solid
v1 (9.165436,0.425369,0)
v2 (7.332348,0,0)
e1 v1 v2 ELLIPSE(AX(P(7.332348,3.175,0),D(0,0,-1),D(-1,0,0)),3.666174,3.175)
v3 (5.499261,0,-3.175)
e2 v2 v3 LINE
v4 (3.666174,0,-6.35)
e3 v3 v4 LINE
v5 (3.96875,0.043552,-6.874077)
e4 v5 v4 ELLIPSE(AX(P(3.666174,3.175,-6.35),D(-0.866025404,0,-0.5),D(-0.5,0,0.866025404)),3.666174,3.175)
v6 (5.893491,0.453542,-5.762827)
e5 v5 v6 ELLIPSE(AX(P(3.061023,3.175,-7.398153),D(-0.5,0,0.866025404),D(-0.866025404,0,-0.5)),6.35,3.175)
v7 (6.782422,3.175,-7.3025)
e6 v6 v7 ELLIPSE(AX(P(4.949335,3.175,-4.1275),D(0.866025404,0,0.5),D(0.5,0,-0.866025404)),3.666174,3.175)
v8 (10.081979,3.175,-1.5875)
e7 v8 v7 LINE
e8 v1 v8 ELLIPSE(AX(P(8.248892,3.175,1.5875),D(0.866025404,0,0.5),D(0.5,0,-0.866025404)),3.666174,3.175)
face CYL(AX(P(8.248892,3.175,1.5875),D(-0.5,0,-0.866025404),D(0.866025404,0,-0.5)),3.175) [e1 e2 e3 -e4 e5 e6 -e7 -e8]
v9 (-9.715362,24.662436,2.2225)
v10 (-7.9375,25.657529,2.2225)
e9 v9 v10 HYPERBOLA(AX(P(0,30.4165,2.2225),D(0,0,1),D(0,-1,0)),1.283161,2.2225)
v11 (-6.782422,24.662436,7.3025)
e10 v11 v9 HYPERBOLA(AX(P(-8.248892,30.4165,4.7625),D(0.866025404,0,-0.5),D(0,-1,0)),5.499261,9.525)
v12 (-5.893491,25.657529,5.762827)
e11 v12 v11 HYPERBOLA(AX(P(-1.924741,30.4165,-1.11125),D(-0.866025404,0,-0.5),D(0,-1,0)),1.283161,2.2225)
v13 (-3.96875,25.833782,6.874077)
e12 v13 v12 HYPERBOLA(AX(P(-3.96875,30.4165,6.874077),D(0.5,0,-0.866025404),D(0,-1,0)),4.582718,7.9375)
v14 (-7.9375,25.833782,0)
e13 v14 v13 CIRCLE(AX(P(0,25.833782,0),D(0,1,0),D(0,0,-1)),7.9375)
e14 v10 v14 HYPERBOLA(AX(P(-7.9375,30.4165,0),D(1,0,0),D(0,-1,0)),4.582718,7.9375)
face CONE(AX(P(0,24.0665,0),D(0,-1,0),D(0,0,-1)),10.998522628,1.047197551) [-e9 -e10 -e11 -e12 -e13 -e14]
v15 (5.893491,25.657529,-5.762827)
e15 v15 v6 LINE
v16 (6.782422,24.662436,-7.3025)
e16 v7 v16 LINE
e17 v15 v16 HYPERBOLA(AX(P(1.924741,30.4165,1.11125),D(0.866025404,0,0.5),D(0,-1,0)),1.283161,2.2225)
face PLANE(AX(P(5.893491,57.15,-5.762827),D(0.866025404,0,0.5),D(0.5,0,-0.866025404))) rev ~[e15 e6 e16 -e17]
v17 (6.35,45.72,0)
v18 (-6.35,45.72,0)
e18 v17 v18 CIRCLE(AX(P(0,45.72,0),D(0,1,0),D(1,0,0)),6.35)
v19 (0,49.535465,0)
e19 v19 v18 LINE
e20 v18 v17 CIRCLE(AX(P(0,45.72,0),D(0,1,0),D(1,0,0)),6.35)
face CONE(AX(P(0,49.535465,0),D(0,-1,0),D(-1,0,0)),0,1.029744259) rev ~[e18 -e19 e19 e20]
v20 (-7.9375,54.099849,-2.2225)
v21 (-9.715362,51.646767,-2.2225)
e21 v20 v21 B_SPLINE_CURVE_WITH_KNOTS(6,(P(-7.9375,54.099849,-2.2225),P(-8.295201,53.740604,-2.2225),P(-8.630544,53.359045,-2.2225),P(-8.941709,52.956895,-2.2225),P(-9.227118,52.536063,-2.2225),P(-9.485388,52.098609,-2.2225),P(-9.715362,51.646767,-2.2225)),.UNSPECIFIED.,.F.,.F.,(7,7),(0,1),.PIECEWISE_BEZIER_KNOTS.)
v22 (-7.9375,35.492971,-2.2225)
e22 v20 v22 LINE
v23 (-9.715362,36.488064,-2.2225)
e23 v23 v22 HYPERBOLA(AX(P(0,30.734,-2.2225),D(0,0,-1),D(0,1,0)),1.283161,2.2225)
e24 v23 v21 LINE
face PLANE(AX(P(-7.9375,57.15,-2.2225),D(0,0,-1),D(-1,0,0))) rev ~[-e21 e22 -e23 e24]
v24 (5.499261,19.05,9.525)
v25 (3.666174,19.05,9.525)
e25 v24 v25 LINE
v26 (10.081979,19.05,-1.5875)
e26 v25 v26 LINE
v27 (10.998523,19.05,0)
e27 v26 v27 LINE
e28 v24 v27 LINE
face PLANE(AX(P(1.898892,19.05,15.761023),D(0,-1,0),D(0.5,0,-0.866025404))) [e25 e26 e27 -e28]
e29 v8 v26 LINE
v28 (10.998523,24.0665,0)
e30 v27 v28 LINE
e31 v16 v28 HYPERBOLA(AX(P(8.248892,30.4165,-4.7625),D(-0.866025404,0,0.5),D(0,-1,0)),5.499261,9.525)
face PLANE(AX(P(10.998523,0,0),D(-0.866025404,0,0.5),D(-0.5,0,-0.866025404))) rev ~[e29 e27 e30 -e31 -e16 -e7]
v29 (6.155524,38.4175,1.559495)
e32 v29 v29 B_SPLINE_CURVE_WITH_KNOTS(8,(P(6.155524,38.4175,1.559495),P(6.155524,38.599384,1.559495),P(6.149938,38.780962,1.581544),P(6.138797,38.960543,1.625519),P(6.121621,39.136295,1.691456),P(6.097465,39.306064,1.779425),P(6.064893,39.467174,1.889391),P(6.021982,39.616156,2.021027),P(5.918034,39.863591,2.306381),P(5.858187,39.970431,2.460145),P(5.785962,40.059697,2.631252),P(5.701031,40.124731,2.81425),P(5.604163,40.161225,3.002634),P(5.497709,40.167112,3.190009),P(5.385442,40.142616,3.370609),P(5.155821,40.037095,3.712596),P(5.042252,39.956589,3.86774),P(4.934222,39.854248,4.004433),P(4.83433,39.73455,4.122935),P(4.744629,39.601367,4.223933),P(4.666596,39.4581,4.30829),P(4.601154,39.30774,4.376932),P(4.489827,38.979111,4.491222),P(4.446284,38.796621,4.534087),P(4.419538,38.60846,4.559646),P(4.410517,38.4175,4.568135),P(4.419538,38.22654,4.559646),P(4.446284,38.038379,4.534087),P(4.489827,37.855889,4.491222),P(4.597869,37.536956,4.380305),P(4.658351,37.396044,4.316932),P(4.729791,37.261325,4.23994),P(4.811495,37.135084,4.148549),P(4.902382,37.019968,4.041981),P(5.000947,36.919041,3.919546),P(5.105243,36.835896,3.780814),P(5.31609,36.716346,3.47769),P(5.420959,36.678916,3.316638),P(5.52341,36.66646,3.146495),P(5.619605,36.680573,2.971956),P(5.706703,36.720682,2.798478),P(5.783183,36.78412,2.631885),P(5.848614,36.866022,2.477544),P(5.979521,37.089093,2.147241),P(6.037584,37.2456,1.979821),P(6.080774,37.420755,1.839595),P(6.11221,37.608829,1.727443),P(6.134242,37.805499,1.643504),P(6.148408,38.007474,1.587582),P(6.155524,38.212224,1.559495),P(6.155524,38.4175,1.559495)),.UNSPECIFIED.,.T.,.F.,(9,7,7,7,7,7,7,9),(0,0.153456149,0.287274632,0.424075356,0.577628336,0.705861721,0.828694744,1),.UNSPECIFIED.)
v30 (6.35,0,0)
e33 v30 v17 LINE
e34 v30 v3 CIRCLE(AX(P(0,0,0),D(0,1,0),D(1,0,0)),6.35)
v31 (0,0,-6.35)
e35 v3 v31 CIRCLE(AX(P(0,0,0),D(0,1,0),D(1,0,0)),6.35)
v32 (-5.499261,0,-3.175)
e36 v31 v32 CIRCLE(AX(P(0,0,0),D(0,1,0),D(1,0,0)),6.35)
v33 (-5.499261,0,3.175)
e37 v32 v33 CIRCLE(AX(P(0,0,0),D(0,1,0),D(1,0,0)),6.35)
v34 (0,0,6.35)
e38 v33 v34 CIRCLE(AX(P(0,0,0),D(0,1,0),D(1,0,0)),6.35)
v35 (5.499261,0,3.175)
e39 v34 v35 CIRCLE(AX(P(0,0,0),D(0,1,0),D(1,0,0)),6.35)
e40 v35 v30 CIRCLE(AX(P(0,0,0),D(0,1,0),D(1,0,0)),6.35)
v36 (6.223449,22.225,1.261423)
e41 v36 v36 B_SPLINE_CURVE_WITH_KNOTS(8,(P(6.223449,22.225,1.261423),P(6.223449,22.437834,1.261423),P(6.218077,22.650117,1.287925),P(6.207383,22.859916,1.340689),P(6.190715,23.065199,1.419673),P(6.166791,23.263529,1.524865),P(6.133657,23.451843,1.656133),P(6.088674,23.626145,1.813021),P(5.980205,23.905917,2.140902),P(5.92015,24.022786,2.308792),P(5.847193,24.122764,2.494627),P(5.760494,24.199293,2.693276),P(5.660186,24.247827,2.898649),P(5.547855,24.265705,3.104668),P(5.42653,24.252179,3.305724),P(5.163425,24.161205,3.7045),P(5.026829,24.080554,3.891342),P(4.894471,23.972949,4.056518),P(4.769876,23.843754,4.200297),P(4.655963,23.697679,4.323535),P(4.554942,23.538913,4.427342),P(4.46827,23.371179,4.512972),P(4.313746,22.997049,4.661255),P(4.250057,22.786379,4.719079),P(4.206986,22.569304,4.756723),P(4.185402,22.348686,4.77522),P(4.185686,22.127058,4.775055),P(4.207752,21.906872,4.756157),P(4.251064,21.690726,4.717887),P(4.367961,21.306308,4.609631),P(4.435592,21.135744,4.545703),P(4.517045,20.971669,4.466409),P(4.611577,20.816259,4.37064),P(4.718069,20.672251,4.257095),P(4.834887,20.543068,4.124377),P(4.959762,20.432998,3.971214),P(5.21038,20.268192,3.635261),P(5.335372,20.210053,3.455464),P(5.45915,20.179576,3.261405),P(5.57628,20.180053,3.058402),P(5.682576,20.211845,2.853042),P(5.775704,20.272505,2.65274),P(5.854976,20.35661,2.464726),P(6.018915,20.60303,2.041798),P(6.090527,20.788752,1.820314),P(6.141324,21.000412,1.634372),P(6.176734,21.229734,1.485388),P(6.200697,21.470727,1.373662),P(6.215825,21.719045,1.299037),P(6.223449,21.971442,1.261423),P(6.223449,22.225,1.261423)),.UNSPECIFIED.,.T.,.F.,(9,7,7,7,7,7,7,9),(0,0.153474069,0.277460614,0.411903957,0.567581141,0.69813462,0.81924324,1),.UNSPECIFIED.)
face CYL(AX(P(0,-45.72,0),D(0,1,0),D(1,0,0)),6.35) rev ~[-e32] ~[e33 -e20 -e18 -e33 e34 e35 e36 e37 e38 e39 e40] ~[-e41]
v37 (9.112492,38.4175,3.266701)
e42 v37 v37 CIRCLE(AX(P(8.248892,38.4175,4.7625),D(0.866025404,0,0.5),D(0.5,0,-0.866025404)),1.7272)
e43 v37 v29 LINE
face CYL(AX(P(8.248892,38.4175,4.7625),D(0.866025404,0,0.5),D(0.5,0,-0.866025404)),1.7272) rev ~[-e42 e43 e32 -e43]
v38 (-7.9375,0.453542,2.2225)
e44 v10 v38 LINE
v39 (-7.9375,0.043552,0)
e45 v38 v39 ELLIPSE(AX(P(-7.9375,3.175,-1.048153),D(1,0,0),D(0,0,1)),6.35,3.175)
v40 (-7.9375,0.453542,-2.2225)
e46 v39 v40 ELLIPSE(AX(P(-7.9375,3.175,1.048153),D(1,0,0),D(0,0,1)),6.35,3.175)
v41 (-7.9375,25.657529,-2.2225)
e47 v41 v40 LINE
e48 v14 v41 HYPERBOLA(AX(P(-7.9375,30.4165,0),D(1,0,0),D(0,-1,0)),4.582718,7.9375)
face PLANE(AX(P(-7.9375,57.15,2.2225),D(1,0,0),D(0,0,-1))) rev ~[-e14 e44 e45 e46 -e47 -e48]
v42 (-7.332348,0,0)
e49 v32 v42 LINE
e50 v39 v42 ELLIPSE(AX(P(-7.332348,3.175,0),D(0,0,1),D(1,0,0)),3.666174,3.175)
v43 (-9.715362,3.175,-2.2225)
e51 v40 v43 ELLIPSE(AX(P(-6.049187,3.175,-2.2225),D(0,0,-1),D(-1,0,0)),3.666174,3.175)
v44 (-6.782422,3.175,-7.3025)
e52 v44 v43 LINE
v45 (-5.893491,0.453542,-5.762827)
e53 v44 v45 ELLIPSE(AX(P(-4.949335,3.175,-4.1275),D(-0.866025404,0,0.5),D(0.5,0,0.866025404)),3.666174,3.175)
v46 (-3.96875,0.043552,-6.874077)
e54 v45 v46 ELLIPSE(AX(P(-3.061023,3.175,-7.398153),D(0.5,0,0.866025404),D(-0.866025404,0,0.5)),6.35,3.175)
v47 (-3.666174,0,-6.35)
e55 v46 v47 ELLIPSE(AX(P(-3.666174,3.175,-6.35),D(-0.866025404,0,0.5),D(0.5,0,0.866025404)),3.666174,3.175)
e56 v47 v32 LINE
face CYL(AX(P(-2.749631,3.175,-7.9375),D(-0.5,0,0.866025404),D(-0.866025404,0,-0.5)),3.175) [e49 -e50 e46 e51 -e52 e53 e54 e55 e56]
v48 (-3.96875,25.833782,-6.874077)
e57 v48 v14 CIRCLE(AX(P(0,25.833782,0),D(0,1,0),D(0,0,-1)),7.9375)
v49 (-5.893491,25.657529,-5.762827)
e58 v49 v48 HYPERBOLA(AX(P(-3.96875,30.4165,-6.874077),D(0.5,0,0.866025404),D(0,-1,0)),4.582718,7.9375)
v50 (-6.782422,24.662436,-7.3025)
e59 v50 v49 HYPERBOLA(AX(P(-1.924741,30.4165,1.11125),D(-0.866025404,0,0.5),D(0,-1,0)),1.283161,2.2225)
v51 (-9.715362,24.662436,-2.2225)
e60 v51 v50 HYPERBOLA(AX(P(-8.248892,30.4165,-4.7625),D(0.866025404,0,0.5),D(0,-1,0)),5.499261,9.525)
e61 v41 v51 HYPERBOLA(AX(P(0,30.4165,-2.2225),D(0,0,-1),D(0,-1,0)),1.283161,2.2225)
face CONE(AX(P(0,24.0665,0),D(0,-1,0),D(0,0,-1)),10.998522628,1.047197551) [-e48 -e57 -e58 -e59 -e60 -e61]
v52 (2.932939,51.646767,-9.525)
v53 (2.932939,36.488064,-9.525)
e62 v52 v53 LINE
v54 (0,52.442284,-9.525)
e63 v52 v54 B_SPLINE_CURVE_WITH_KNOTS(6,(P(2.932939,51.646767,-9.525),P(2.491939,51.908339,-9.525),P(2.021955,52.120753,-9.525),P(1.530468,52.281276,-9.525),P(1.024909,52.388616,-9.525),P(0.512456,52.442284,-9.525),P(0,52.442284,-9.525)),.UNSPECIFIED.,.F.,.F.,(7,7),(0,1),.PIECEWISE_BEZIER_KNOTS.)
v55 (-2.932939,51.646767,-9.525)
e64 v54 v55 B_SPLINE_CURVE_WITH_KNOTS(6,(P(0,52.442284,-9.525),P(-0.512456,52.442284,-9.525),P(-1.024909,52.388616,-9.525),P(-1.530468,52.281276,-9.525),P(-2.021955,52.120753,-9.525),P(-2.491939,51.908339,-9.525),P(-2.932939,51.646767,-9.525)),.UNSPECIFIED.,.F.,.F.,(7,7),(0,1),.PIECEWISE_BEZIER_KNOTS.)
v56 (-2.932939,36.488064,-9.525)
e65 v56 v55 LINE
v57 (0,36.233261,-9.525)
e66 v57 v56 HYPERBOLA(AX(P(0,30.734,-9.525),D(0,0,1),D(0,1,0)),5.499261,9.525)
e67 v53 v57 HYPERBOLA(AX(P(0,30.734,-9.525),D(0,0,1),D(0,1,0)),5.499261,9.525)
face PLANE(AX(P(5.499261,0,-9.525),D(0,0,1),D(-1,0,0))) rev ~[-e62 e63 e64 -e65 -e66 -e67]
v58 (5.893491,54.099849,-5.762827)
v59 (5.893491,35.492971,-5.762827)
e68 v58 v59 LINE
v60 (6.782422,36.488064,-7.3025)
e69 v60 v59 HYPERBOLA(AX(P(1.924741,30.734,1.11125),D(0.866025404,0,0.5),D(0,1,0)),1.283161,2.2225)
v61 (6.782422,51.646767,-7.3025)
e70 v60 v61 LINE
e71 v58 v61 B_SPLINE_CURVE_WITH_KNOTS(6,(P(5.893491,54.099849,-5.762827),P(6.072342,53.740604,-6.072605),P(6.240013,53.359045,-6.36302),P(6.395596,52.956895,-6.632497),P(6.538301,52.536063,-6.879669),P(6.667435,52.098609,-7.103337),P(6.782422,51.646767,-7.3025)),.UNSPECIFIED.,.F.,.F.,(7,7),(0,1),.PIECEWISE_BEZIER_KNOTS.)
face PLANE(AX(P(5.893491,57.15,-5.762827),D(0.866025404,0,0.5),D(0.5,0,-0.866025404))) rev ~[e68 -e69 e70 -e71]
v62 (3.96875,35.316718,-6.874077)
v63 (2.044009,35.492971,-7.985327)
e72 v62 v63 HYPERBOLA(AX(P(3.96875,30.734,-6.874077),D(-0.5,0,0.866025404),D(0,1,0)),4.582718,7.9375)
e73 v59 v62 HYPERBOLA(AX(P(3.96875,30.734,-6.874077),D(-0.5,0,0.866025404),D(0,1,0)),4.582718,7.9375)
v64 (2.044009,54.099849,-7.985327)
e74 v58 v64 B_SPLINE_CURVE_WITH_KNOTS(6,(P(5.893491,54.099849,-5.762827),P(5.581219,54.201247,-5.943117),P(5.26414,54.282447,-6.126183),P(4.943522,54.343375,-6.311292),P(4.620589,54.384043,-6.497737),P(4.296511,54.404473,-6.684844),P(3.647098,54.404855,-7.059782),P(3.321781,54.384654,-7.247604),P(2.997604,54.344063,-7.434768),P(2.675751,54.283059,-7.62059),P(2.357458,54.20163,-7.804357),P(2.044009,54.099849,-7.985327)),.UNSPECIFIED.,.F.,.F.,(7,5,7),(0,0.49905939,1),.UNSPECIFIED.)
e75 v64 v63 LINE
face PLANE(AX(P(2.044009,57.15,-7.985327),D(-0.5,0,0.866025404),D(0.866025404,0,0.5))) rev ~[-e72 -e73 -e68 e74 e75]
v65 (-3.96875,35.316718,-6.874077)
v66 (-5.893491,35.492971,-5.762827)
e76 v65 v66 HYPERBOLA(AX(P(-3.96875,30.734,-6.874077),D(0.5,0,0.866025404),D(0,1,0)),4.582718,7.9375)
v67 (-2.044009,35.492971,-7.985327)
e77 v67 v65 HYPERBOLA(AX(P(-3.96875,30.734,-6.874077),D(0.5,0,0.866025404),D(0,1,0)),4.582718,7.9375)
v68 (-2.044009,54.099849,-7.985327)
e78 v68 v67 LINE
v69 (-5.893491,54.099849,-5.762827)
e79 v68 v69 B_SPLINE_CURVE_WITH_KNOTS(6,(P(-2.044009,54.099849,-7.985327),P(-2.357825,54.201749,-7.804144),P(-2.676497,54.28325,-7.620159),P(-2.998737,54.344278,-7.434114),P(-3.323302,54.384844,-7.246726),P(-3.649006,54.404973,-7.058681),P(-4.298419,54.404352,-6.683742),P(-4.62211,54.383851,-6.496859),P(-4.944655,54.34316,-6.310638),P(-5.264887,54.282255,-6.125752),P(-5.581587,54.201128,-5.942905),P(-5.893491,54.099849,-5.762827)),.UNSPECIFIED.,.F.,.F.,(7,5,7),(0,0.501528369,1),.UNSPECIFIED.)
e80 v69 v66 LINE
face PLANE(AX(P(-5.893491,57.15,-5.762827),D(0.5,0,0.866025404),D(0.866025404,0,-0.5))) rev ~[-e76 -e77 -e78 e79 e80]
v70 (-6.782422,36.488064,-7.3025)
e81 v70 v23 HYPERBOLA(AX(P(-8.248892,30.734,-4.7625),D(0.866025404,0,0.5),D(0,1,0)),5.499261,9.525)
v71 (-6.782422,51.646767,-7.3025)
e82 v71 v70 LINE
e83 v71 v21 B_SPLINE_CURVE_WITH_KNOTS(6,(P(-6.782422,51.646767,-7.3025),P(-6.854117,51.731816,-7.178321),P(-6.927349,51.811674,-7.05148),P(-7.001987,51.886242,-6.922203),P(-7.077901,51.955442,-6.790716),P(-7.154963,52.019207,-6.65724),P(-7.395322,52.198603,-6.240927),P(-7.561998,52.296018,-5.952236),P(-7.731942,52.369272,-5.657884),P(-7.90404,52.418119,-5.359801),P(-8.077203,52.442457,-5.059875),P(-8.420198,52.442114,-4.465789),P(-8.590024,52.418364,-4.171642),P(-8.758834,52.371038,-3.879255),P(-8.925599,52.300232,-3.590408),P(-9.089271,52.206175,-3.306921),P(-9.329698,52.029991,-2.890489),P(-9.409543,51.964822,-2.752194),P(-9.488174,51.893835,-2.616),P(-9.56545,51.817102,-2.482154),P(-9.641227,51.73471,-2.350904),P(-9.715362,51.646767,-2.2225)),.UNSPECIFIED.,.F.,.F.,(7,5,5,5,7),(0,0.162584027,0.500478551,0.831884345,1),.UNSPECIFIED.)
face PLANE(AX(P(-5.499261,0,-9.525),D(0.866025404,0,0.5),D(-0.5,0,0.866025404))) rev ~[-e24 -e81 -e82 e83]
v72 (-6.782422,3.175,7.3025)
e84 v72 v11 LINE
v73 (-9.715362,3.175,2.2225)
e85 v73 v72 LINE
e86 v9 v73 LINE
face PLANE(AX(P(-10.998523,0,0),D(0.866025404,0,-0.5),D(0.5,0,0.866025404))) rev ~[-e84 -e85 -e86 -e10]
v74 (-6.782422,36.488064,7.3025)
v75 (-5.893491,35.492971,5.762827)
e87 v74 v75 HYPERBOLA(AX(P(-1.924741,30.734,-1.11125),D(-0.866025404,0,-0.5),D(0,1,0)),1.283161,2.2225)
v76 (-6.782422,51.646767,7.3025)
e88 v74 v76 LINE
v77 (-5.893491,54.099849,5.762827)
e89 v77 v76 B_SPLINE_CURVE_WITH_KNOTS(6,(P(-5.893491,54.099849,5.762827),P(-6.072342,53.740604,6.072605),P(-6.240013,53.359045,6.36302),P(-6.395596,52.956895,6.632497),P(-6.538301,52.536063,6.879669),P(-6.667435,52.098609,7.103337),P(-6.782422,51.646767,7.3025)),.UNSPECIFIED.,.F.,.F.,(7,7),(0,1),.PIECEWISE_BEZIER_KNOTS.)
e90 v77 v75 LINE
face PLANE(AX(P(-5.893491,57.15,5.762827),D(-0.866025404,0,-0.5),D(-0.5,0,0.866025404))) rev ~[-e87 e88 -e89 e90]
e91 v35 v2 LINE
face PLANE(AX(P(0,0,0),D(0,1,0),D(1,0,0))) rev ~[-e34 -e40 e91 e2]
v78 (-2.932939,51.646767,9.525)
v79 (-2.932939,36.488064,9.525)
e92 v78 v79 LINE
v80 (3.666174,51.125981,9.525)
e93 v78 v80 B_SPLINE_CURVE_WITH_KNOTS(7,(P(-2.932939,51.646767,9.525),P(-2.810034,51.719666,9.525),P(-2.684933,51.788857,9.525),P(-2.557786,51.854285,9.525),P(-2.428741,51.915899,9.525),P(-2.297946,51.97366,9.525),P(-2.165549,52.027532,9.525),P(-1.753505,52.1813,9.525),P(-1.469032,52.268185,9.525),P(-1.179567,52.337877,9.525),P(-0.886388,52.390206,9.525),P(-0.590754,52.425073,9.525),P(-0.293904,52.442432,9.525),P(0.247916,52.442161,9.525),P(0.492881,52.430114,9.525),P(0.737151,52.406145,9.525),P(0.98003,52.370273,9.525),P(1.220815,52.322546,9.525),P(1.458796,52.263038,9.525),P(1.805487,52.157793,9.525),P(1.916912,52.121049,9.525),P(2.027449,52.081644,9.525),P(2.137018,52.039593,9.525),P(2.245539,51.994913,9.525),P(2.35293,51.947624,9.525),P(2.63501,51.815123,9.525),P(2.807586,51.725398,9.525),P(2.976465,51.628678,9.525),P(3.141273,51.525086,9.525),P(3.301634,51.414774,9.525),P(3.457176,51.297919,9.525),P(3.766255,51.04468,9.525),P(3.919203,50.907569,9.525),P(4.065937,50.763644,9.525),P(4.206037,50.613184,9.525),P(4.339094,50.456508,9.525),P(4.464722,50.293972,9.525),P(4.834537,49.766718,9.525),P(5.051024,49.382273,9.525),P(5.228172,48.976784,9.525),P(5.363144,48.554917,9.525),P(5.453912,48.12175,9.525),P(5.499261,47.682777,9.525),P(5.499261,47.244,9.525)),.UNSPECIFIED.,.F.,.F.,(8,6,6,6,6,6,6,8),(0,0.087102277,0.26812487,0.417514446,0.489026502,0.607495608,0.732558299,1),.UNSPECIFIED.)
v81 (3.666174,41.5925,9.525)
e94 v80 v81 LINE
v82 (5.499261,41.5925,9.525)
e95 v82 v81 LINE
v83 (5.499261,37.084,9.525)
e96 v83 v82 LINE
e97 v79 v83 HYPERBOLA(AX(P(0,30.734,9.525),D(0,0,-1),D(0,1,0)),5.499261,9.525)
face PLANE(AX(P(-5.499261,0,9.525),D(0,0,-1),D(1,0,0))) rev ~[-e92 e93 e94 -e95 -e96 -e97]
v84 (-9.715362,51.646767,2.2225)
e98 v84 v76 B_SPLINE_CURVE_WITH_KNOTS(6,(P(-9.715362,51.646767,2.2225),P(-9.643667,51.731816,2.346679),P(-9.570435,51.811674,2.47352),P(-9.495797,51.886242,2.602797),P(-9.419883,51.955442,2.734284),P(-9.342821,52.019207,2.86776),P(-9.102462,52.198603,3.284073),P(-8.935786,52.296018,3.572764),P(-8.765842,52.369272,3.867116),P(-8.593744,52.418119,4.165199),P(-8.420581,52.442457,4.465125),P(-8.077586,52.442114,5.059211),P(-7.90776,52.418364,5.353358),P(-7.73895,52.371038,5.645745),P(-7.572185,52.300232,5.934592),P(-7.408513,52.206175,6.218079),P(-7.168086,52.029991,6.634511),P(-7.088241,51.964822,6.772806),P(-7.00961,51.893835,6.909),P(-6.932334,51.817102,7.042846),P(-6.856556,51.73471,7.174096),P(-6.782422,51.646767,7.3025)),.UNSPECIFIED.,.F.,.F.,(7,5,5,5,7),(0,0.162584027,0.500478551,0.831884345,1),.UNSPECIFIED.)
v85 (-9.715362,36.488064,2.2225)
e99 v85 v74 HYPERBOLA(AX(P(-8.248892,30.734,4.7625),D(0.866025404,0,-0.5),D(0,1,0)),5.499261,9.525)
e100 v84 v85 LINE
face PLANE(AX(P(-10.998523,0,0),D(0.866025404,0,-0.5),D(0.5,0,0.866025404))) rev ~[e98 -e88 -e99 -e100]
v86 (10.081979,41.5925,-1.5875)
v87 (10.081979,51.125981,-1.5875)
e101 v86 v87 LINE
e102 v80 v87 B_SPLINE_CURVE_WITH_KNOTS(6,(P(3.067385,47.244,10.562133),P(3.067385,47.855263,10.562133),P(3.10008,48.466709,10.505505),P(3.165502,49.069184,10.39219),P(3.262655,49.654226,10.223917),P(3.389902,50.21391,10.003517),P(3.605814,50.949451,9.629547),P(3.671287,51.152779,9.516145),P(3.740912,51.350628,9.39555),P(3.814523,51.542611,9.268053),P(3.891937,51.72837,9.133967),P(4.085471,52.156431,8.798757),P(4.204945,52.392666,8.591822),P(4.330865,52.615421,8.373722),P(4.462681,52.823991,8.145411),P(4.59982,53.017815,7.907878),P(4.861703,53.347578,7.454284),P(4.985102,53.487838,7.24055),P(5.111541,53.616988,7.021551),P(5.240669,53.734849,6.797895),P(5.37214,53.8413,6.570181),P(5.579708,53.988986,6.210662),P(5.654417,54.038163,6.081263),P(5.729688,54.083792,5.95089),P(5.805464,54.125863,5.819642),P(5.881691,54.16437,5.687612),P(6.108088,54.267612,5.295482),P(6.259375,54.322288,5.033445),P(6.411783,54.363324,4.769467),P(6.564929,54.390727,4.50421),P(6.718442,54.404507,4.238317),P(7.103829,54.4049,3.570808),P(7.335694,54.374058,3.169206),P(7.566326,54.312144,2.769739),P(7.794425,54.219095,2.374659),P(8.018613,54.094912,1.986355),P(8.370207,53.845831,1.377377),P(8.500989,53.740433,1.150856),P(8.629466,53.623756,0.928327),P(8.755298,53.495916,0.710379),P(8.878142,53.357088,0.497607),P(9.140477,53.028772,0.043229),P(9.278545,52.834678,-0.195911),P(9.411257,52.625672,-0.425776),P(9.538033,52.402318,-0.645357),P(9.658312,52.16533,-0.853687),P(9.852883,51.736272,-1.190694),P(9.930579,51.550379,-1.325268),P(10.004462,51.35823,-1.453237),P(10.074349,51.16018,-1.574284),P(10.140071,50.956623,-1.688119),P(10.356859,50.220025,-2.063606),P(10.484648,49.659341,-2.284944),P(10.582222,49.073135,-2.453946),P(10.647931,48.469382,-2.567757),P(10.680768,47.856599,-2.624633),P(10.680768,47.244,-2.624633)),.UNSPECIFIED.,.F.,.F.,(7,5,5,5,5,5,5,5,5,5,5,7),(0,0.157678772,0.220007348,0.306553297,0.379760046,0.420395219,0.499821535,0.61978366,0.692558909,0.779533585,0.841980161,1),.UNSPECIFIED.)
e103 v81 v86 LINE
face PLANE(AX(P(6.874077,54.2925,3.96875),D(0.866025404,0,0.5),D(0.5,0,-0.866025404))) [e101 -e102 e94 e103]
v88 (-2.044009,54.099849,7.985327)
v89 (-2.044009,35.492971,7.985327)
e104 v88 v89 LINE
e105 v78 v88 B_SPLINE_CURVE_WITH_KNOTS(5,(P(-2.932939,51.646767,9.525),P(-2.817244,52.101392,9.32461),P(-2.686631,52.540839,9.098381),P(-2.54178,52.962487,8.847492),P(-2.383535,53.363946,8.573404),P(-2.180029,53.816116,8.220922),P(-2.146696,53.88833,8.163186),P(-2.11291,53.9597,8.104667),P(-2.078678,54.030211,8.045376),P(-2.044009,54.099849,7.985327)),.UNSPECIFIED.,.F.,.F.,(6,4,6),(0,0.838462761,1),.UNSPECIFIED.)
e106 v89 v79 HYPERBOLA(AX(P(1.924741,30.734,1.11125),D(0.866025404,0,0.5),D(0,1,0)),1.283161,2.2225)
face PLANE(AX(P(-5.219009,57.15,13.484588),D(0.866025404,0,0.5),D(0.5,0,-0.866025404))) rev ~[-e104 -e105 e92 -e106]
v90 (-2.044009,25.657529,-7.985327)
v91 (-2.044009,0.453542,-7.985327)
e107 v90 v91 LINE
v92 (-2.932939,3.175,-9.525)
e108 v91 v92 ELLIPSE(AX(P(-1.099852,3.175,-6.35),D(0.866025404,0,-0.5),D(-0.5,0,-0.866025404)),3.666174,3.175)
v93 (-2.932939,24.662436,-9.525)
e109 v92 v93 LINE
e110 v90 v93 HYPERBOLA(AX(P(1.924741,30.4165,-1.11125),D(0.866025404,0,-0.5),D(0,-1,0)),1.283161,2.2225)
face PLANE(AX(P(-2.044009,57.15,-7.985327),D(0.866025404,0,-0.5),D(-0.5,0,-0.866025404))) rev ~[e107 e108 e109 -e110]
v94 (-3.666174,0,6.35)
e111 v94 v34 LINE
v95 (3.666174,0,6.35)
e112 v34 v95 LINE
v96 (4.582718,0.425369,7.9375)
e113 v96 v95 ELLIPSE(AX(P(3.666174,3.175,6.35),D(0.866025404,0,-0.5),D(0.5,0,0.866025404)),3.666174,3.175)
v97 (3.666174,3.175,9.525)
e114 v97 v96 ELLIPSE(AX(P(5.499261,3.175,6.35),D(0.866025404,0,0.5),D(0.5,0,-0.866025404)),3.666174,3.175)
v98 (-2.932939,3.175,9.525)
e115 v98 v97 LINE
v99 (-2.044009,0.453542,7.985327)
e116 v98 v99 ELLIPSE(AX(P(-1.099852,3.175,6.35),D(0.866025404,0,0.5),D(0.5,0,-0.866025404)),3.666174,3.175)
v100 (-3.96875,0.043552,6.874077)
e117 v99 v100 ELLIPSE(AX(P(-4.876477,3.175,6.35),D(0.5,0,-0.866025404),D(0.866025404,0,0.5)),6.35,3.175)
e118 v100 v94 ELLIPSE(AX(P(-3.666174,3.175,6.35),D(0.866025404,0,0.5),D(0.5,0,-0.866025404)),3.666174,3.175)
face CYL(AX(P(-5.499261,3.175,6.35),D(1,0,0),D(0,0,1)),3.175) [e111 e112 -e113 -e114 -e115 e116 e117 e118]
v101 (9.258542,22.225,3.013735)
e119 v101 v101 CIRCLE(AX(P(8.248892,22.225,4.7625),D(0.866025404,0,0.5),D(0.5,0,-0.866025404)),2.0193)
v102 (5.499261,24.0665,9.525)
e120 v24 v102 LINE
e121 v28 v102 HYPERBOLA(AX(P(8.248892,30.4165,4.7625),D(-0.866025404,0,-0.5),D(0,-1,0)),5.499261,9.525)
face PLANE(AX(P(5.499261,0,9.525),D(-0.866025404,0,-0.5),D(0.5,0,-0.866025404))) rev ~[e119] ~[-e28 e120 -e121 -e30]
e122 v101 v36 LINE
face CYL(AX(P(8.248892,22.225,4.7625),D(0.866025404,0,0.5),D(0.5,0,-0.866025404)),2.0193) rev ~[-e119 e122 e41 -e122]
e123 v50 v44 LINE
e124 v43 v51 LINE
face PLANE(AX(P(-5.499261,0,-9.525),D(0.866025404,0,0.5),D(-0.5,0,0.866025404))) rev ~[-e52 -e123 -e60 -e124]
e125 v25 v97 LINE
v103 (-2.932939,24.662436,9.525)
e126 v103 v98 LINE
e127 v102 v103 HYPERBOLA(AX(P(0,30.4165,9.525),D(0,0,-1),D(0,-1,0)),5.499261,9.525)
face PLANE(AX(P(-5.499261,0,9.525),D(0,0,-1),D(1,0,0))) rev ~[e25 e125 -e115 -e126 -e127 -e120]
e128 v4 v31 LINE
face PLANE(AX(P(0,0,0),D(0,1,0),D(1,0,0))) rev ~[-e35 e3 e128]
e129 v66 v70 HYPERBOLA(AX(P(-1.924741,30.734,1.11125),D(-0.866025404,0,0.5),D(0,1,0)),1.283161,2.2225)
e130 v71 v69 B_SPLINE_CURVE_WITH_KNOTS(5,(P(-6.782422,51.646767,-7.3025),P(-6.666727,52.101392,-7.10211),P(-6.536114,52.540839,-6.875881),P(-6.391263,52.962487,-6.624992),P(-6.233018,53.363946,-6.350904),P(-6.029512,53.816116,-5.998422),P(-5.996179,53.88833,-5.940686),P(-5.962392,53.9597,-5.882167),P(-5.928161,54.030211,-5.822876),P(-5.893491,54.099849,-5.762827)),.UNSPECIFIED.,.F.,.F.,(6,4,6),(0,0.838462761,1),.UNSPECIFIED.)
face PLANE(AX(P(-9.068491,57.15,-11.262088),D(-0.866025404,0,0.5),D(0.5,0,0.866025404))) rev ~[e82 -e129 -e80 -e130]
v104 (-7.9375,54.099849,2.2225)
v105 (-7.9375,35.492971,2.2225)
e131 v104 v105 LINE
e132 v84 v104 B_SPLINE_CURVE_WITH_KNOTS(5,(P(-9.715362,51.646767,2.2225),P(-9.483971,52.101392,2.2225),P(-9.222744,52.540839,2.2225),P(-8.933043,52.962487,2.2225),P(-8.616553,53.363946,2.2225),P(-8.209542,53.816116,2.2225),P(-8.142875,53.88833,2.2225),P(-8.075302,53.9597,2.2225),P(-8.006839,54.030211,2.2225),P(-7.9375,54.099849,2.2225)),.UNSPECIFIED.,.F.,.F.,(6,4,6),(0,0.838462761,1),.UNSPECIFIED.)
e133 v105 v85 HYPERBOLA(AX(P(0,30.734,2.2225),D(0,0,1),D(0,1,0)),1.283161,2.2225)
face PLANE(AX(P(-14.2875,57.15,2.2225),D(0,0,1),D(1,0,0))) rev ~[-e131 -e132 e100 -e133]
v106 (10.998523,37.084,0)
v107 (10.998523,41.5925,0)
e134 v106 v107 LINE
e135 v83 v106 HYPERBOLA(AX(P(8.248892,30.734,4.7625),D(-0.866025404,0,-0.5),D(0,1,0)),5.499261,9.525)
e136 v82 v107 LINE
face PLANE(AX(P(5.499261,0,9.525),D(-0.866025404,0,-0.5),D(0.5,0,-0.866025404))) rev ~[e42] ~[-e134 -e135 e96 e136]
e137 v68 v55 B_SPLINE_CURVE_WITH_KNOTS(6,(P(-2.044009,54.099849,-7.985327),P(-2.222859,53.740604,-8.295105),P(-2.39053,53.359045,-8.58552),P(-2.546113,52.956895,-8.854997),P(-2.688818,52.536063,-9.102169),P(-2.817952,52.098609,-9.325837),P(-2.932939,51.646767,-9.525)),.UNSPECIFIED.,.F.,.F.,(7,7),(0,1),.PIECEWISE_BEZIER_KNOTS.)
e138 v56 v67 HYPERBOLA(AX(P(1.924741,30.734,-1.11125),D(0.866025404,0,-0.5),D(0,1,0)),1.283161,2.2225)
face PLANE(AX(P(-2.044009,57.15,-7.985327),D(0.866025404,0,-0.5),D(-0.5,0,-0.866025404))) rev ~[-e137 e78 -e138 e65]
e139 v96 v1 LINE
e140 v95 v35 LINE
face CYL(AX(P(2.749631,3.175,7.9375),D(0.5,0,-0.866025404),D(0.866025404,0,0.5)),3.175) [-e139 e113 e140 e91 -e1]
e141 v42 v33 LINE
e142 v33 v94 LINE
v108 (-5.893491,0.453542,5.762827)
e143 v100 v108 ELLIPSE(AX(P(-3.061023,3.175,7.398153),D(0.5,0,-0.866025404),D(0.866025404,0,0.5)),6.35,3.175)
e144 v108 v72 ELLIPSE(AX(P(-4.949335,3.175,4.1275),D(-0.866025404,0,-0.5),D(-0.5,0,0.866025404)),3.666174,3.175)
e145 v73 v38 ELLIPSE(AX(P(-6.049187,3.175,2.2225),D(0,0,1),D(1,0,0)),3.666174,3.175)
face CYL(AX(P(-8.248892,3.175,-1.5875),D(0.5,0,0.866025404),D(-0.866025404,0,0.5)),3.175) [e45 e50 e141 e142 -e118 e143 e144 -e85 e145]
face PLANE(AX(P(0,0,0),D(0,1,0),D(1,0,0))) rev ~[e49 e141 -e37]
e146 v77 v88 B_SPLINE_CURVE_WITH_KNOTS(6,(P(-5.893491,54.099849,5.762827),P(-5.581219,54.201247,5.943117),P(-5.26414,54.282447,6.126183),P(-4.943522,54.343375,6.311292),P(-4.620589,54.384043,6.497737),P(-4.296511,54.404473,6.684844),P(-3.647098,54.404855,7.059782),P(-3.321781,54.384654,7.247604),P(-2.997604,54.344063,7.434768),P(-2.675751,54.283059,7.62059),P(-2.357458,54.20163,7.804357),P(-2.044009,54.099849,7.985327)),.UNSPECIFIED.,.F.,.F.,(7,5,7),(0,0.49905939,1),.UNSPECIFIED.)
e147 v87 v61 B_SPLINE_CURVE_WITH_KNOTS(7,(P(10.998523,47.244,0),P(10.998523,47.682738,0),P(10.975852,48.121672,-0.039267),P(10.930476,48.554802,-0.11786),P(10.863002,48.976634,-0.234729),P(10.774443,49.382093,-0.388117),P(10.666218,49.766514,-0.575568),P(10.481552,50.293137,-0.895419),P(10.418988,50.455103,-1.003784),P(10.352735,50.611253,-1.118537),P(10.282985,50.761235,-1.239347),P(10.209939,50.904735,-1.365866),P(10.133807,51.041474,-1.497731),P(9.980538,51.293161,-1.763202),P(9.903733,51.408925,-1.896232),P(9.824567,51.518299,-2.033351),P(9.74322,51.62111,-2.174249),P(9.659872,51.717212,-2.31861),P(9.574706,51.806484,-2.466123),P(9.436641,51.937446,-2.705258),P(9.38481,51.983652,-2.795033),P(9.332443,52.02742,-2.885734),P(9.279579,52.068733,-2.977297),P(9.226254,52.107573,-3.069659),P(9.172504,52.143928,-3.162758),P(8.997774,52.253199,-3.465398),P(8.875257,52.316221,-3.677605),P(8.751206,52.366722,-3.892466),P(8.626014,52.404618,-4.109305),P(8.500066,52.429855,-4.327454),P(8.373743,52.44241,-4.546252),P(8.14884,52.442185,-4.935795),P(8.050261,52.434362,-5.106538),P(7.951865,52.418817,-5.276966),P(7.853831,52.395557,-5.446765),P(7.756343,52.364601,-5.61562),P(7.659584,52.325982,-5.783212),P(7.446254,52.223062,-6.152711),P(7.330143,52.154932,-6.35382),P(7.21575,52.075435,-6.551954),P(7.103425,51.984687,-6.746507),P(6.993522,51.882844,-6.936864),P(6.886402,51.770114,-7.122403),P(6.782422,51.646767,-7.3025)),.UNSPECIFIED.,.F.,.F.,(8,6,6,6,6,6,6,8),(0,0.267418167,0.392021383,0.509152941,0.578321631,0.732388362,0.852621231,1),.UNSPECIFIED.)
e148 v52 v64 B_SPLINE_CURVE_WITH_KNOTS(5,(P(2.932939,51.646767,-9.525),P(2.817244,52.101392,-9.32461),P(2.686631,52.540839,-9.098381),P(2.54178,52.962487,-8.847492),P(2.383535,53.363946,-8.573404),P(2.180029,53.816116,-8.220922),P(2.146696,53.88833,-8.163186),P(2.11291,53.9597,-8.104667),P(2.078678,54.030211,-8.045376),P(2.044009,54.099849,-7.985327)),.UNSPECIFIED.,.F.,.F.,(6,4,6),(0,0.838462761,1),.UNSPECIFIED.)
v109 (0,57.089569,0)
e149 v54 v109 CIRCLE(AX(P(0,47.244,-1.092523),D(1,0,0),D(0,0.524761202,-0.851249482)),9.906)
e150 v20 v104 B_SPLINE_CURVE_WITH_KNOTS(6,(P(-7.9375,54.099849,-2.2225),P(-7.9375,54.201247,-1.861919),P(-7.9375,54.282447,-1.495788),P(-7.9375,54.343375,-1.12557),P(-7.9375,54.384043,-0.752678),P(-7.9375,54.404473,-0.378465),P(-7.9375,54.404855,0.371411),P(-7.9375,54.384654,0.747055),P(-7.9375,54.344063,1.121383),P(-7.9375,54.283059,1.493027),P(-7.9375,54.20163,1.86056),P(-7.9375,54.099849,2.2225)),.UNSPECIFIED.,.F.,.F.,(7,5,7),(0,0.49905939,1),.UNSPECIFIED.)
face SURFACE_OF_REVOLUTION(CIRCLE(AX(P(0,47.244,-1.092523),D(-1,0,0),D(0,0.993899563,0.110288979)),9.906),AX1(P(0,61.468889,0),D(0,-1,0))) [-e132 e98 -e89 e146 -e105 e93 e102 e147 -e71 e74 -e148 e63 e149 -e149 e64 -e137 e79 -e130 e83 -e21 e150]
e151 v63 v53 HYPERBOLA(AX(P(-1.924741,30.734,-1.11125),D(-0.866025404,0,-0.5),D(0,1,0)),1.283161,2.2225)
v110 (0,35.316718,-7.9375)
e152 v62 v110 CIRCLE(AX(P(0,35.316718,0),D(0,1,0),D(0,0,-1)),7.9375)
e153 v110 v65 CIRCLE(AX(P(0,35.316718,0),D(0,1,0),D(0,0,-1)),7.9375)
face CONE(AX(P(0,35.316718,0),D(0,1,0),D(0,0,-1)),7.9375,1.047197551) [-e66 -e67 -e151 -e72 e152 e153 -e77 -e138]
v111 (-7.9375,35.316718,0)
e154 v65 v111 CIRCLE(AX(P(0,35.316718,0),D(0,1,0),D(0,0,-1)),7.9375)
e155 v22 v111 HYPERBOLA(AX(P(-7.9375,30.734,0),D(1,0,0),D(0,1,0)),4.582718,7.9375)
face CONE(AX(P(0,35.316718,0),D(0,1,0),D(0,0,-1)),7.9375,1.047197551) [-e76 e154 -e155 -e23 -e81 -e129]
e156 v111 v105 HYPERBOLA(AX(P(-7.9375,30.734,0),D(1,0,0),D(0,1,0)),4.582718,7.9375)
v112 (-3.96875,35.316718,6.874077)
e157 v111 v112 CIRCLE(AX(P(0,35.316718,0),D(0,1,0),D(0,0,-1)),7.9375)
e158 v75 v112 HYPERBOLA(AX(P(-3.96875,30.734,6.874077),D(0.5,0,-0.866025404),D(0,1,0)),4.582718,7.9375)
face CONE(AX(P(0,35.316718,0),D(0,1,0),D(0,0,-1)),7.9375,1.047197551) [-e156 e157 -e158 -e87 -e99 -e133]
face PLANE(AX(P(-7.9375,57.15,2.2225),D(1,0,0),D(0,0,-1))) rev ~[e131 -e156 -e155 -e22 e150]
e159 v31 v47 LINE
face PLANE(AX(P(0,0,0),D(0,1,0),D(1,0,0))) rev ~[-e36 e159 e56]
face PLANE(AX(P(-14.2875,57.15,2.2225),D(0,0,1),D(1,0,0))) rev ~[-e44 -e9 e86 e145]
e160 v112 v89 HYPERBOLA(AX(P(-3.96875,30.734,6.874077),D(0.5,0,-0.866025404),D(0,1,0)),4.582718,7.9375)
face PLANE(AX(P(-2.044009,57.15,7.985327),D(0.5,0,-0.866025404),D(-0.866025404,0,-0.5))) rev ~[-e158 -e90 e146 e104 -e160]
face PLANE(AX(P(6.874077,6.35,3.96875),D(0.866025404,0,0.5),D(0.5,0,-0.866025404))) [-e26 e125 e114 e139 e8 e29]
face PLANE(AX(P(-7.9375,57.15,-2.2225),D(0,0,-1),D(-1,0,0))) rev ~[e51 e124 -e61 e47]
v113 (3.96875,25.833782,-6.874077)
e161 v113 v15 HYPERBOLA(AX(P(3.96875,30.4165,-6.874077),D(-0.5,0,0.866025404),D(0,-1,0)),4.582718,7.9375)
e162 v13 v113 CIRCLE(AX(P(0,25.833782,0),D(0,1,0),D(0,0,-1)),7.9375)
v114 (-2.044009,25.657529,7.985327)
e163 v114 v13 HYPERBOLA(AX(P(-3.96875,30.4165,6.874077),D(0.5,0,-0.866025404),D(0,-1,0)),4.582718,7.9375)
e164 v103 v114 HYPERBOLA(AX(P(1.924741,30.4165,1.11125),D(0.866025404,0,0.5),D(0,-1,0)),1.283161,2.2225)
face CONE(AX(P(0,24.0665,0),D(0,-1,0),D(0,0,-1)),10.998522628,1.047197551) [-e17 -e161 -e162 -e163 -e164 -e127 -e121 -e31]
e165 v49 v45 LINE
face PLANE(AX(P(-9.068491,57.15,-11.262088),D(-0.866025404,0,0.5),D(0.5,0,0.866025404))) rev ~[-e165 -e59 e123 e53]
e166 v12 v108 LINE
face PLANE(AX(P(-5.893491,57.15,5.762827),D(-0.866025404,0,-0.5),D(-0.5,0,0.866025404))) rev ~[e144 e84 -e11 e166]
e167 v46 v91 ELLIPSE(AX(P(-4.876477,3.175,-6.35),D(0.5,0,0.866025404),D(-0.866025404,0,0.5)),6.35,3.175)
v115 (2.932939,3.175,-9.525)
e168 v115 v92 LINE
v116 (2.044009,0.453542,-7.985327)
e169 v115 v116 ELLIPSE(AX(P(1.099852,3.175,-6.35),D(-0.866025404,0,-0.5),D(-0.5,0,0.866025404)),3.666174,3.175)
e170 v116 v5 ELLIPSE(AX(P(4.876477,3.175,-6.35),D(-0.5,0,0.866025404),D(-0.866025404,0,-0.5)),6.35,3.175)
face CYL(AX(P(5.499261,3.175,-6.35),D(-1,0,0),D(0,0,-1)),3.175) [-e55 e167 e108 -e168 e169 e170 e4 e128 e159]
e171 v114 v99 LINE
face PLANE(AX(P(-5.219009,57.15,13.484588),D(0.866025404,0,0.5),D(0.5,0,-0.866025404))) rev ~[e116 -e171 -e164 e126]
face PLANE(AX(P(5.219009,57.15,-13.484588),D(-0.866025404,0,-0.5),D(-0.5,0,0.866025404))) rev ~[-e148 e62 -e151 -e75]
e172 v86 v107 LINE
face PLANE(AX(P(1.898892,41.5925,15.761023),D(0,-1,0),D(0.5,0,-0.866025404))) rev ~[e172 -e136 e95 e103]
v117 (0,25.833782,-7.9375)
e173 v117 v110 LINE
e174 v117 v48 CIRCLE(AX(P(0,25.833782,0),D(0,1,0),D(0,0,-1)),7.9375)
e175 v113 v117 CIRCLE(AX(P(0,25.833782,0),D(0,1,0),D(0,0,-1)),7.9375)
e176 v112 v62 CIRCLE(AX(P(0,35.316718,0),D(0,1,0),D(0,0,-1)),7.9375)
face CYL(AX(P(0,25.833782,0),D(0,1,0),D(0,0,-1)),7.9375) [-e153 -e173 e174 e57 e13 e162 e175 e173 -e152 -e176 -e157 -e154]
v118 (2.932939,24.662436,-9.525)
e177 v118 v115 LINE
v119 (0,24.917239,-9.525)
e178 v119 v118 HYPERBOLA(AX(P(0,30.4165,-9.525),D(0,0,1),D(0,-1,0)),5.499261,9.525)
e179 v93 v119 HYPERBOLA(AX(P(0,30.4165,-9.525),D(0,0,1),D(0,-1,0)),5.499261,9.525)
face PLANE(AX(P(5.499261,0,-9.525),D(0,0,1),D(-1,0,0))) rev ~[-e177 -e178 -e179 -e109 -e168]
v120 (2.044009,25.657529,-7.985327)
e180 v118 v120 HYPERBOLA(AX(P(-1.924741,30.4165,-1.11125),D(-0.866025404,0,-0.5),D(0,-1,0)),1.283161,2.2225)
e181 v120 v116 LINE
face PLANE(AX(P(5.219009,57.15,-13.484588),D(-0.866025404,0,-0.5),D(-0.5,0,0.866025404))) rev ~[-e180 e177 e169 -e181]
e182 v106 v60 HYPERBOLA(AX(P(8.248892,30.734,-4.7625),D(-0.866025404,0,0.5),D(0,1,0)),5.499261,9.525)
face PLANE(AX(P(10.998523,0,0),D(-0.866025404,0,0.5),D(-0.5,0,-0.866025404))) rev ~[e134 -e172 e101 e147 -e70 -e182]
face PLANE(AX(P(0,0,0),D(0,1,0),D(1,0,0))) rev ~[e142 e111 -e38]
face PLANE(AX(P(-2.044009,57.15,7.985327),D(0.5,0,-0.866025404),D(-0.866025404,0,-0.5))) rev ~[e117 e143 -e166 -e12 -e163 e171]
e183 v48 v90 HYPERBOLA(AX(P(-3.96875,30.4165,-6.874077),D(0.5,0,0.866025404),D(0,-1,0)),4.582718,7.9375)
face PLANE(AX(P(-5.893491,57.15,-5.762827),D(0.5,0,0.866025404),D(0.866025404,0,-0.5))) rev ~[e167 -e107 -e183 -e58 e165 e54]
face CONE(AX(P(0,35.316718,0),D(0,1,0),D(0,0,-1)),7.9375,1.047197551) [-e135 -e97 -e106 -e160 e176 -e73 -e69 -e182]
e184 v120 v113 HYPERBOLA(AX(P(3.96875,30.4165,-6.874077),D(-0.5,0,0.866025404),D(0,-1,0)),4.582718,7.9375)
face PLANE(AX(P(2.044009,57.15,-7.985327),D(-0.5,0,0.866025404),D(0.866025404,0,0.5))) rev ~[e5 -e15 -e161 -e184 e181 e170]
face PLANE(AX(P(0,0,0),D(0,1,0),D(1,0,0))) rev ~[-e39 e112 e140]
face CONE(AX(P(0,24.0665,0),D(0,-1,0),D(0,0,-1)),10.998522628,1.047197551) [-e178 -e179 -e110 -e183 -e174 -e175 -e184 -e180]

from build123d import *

# Parameters (mm, degrees)
BOSS_EXTRUDE1_DEPTH              = 57.15
FILLET1_R                        = 3.175
F_1_2_0_5_DIAMETER_HOLE1_D       = 12.7
F_1_2_0_5_DIAMETER_HOLE1_DEPTH   = 45.72
F_1_2_0_5_DIAMETER_HOLE1_TIP     = 3.815464931
F_10_32_TAPPED_HOLE1_REACH       = 63.974
F_10_32_TAPPED_HOLE1_BORE_R      = 2.0193
F_29_0_136_DIAMETER_HOLE1_REACH  = 63.974
F_29_0_136_DIAMETER_HOLE1_BORE_R = 1.7272
CUT_EXTRUDE1_DEPTH               = 59.973007694
CIRPATTERN1_COUNT                = 6
SKETCH16_W                       = 25.4
SKETCH16_H                       = 25.4
CUT_EXTRUDE2_DEPTH               = 1.5875


with BuildPart() as part:
    # Sketch1 → Boss-Extrude1 (new body)
    with BuildSketch(Plane(origin=(0, 0, 0), x_dir=(1, 0, 0), z_dir=(0, 1, 0))):
        Polygon((10.998522628, 0), (5.499261314, 9.525), (-5.499261314, 9.525), (-10.998522628, 0), (-5.499261314, -9.525), (5.499261314, -9.525), align=None)
    extrude(amount=BOSS_EXTRUDE1_DEPTH)

    # Fillet1
    fillet1_edges = [part.edges().sort_by_distance(p)[0] for p in [
        (0, 0, 9.525),
        (-8.248891971, 0, 4.7625),
        (-8.248891971, 0, -4.7625),
        (0, 0, -9.525),
        (8.248891971, 0, -4.7625),
        (8.248891971, 0, 4.7625),
    ]]
    fillet(fillet1_edges, radius=FILLET1_R)

    # 1/2 (0.5) Diameter Hole1
    with Locations(Plane(origin=(0, 0, 0), x_dir=(-1, 0, 0), z_dir=(0, -1, 0))):
        with Locations((0, 0)):
            Hole(F_1_2_0_5_DIAMETER_HOLE1_D / 2, depth=F_1_2_0_5_DIAMETER_HOLE1_DEPTH)
            with Locations((0, 0, -(F_1_2_0_5_DIAMETER_HOLE1_DEPTH + F_1_2_0_5_DIAMETER_HOLE1_TIP / 2))):  # 118° drill point
                Cone(0, F_1_2_0_5_DIAMETER_HOLE1_D / 2, F_1_2_0_5_DIAMETER_HOLE1_TIP, mode=Mode.SUBTRACT)

    # #10-32 Tapped Hole1 bore → #10-32 Tapped Hole1 (cut, up to next)
    with BuildSketch(Plane(origin=(8.248891971, 0, 4.7625), x_dir=(0.49999999999999845, 0, -0.8660254037844396), z_dir=(0.8660254037844395, 0, 0.4999999999999984)), mode=Mode.PRIVATE) as f_10_32_tapped_hole1_sk1:
        with Locations((0, 22.225)):
            Circle(F_10_32_TAPPED_HOLE1_BORE_R)
    f_10_32_tapped_hole1_tool1 = extrude(f_10_32_tapped_hole1_sk1.sketch, amount=-F_10_32_TAPPED_HOLE1_REACH, mode=Mode.PRIVATE) & part.part
    add(f_10_32_tapped_hole1_tool1.solids().sort_by_distance((8.248892, 22.225, 4.7625))[0], mode=Mode.SUBTRACT)

    # #29 (0.136) Diameter Hole1 bore → #29 (0.136) Diameter Hole1 (cut, up to next)
    with BuildSketch(Plane(origin=(8.248891971, 0, 4.7625), x_dir=(0.49999999999999845, 0, -0.8660254037844396), z_dir=(0.8660254037844395, 0, 0.4999999999999984)), mode=Mode.PRIVATE) as f_29_0_136_diameter_hole1_sk1:
        with Locations((0, 38.4175)):
            Circle(F_29_0_136_DIAMETER_HOLE1_BORE_R)
    f_29_0_136_diameter_hole1_tool1 = extrude(f_29_0_136_diameter_hole1_sk1.sketch, amount=-F_29_0_136_DIAMETER_HOLE1_REACH, mode=Mode.PRIVATE) & part.part
    add(f_29_0_136_diameter_hole1_tool1.solids().sort_by_distance((8.248892, 38.4175, 4.7625))[0], mode=Mode.SUBTRACT)

    # Sketch13 → Cut-Extrude1 (cut, through all)
    with BuildSketch(Plane(origin=(0, 57.15, 0), x_dir=(1, 0, 0), z_dir=(0, 1, 0))):
        Polygon((-9.06849146, 11.262087957), (-5.89349146, 5.762826643), (-2.04400854, 7.985326643), (-5.21900854, 13.484587957), align=None)
    cut_extrude1 = extrude(amount=-CUT_EXTRUDE1_DEPTH, mode=Mode.SUBTRACT)

    # CirPattern1: Cut-Extrude1 ×6 about axis, 2 skipped
    cirpattern1_axis = Axis((0, 0, 0), (0, -1, 0))
    add([cut_extrude1.rotate(cirpattern1_axis, i * 360 / CIRPATTERN1_COUNT) for i in range(1, CIRPATTERN1_COUNT) if i not in (2, 3)], mode=Mode.SUBTRACT)

    # Sketch15 → Cut-Revolve4 (revolve, cut)
    with BuildSketch(Plane.XY, mode=Mode.PRIVATE) as cut_revolve4_sk:
        with BuildLine():
            Line((-10.998522628, 47.244), (-21.751479805, 47.244))
            Line((-21.751479805, 47.244), (-21.751479805, 61.468889452))
            Line((-21.751479805, 61.468889452), (0, 61.468889452))
            Line((0, 61.468889452), (0, 57.08956907))
            ThreePointArc((0, 57.08956907), (-7.699575937, 54.624764363), (-10.998522628, 47.244))
        make_face()
    revolve(cut_revolve4_sk.sketch.rotate(Axis((0, 61.468889452, 0), (0, -1, 0)), 90), axis=Axis((0, 61.468889452, 0), (0, -1, 0)), mode=Mode.SUBTRACT)

    # Sketch12 → Cut-Revolve6 (revolve, cut)
    with BuildSketch(Plane.XY, mode=Mode.PRIVATE) as cut_revolve6_sk:
        Polygon((7.9375, 35.316717762), (10.998522628, 37.084), (10.998522628, 24.0665), (7.9375, 25.833782238), align=None)
    revolve(cut_revolve6_sk.sketch.rotate(Axis((0, 0, 0), (0, 1, 0)), 90), axis=Axis((0, 0, 0), (0, 1, 0)), mode=Mode.SUBTRACT)

    # Sketch16 → Cut-Extrude2 (cut)
    with BuildSketch(Plane(origin=(8.248891971, 0, 4.7625), x_dir=(0.49999999999999845, 0, -0.8660254037844396), z_dir=(0.8660254037844395, 0, 0.4999999999999984))):
        with Locations((0, 54.2925)):
            Rectangle(SKETCH16_W, SKETCH16_H)
        with Locations((0, 6.35)):
            Rectangle(SKETCH16_W, SKETCH16_H)
    extrude(amount=-CUT_EXTRUDE2_DEPTH, mode=Mode.SUBTRACT)


solid = part.part
